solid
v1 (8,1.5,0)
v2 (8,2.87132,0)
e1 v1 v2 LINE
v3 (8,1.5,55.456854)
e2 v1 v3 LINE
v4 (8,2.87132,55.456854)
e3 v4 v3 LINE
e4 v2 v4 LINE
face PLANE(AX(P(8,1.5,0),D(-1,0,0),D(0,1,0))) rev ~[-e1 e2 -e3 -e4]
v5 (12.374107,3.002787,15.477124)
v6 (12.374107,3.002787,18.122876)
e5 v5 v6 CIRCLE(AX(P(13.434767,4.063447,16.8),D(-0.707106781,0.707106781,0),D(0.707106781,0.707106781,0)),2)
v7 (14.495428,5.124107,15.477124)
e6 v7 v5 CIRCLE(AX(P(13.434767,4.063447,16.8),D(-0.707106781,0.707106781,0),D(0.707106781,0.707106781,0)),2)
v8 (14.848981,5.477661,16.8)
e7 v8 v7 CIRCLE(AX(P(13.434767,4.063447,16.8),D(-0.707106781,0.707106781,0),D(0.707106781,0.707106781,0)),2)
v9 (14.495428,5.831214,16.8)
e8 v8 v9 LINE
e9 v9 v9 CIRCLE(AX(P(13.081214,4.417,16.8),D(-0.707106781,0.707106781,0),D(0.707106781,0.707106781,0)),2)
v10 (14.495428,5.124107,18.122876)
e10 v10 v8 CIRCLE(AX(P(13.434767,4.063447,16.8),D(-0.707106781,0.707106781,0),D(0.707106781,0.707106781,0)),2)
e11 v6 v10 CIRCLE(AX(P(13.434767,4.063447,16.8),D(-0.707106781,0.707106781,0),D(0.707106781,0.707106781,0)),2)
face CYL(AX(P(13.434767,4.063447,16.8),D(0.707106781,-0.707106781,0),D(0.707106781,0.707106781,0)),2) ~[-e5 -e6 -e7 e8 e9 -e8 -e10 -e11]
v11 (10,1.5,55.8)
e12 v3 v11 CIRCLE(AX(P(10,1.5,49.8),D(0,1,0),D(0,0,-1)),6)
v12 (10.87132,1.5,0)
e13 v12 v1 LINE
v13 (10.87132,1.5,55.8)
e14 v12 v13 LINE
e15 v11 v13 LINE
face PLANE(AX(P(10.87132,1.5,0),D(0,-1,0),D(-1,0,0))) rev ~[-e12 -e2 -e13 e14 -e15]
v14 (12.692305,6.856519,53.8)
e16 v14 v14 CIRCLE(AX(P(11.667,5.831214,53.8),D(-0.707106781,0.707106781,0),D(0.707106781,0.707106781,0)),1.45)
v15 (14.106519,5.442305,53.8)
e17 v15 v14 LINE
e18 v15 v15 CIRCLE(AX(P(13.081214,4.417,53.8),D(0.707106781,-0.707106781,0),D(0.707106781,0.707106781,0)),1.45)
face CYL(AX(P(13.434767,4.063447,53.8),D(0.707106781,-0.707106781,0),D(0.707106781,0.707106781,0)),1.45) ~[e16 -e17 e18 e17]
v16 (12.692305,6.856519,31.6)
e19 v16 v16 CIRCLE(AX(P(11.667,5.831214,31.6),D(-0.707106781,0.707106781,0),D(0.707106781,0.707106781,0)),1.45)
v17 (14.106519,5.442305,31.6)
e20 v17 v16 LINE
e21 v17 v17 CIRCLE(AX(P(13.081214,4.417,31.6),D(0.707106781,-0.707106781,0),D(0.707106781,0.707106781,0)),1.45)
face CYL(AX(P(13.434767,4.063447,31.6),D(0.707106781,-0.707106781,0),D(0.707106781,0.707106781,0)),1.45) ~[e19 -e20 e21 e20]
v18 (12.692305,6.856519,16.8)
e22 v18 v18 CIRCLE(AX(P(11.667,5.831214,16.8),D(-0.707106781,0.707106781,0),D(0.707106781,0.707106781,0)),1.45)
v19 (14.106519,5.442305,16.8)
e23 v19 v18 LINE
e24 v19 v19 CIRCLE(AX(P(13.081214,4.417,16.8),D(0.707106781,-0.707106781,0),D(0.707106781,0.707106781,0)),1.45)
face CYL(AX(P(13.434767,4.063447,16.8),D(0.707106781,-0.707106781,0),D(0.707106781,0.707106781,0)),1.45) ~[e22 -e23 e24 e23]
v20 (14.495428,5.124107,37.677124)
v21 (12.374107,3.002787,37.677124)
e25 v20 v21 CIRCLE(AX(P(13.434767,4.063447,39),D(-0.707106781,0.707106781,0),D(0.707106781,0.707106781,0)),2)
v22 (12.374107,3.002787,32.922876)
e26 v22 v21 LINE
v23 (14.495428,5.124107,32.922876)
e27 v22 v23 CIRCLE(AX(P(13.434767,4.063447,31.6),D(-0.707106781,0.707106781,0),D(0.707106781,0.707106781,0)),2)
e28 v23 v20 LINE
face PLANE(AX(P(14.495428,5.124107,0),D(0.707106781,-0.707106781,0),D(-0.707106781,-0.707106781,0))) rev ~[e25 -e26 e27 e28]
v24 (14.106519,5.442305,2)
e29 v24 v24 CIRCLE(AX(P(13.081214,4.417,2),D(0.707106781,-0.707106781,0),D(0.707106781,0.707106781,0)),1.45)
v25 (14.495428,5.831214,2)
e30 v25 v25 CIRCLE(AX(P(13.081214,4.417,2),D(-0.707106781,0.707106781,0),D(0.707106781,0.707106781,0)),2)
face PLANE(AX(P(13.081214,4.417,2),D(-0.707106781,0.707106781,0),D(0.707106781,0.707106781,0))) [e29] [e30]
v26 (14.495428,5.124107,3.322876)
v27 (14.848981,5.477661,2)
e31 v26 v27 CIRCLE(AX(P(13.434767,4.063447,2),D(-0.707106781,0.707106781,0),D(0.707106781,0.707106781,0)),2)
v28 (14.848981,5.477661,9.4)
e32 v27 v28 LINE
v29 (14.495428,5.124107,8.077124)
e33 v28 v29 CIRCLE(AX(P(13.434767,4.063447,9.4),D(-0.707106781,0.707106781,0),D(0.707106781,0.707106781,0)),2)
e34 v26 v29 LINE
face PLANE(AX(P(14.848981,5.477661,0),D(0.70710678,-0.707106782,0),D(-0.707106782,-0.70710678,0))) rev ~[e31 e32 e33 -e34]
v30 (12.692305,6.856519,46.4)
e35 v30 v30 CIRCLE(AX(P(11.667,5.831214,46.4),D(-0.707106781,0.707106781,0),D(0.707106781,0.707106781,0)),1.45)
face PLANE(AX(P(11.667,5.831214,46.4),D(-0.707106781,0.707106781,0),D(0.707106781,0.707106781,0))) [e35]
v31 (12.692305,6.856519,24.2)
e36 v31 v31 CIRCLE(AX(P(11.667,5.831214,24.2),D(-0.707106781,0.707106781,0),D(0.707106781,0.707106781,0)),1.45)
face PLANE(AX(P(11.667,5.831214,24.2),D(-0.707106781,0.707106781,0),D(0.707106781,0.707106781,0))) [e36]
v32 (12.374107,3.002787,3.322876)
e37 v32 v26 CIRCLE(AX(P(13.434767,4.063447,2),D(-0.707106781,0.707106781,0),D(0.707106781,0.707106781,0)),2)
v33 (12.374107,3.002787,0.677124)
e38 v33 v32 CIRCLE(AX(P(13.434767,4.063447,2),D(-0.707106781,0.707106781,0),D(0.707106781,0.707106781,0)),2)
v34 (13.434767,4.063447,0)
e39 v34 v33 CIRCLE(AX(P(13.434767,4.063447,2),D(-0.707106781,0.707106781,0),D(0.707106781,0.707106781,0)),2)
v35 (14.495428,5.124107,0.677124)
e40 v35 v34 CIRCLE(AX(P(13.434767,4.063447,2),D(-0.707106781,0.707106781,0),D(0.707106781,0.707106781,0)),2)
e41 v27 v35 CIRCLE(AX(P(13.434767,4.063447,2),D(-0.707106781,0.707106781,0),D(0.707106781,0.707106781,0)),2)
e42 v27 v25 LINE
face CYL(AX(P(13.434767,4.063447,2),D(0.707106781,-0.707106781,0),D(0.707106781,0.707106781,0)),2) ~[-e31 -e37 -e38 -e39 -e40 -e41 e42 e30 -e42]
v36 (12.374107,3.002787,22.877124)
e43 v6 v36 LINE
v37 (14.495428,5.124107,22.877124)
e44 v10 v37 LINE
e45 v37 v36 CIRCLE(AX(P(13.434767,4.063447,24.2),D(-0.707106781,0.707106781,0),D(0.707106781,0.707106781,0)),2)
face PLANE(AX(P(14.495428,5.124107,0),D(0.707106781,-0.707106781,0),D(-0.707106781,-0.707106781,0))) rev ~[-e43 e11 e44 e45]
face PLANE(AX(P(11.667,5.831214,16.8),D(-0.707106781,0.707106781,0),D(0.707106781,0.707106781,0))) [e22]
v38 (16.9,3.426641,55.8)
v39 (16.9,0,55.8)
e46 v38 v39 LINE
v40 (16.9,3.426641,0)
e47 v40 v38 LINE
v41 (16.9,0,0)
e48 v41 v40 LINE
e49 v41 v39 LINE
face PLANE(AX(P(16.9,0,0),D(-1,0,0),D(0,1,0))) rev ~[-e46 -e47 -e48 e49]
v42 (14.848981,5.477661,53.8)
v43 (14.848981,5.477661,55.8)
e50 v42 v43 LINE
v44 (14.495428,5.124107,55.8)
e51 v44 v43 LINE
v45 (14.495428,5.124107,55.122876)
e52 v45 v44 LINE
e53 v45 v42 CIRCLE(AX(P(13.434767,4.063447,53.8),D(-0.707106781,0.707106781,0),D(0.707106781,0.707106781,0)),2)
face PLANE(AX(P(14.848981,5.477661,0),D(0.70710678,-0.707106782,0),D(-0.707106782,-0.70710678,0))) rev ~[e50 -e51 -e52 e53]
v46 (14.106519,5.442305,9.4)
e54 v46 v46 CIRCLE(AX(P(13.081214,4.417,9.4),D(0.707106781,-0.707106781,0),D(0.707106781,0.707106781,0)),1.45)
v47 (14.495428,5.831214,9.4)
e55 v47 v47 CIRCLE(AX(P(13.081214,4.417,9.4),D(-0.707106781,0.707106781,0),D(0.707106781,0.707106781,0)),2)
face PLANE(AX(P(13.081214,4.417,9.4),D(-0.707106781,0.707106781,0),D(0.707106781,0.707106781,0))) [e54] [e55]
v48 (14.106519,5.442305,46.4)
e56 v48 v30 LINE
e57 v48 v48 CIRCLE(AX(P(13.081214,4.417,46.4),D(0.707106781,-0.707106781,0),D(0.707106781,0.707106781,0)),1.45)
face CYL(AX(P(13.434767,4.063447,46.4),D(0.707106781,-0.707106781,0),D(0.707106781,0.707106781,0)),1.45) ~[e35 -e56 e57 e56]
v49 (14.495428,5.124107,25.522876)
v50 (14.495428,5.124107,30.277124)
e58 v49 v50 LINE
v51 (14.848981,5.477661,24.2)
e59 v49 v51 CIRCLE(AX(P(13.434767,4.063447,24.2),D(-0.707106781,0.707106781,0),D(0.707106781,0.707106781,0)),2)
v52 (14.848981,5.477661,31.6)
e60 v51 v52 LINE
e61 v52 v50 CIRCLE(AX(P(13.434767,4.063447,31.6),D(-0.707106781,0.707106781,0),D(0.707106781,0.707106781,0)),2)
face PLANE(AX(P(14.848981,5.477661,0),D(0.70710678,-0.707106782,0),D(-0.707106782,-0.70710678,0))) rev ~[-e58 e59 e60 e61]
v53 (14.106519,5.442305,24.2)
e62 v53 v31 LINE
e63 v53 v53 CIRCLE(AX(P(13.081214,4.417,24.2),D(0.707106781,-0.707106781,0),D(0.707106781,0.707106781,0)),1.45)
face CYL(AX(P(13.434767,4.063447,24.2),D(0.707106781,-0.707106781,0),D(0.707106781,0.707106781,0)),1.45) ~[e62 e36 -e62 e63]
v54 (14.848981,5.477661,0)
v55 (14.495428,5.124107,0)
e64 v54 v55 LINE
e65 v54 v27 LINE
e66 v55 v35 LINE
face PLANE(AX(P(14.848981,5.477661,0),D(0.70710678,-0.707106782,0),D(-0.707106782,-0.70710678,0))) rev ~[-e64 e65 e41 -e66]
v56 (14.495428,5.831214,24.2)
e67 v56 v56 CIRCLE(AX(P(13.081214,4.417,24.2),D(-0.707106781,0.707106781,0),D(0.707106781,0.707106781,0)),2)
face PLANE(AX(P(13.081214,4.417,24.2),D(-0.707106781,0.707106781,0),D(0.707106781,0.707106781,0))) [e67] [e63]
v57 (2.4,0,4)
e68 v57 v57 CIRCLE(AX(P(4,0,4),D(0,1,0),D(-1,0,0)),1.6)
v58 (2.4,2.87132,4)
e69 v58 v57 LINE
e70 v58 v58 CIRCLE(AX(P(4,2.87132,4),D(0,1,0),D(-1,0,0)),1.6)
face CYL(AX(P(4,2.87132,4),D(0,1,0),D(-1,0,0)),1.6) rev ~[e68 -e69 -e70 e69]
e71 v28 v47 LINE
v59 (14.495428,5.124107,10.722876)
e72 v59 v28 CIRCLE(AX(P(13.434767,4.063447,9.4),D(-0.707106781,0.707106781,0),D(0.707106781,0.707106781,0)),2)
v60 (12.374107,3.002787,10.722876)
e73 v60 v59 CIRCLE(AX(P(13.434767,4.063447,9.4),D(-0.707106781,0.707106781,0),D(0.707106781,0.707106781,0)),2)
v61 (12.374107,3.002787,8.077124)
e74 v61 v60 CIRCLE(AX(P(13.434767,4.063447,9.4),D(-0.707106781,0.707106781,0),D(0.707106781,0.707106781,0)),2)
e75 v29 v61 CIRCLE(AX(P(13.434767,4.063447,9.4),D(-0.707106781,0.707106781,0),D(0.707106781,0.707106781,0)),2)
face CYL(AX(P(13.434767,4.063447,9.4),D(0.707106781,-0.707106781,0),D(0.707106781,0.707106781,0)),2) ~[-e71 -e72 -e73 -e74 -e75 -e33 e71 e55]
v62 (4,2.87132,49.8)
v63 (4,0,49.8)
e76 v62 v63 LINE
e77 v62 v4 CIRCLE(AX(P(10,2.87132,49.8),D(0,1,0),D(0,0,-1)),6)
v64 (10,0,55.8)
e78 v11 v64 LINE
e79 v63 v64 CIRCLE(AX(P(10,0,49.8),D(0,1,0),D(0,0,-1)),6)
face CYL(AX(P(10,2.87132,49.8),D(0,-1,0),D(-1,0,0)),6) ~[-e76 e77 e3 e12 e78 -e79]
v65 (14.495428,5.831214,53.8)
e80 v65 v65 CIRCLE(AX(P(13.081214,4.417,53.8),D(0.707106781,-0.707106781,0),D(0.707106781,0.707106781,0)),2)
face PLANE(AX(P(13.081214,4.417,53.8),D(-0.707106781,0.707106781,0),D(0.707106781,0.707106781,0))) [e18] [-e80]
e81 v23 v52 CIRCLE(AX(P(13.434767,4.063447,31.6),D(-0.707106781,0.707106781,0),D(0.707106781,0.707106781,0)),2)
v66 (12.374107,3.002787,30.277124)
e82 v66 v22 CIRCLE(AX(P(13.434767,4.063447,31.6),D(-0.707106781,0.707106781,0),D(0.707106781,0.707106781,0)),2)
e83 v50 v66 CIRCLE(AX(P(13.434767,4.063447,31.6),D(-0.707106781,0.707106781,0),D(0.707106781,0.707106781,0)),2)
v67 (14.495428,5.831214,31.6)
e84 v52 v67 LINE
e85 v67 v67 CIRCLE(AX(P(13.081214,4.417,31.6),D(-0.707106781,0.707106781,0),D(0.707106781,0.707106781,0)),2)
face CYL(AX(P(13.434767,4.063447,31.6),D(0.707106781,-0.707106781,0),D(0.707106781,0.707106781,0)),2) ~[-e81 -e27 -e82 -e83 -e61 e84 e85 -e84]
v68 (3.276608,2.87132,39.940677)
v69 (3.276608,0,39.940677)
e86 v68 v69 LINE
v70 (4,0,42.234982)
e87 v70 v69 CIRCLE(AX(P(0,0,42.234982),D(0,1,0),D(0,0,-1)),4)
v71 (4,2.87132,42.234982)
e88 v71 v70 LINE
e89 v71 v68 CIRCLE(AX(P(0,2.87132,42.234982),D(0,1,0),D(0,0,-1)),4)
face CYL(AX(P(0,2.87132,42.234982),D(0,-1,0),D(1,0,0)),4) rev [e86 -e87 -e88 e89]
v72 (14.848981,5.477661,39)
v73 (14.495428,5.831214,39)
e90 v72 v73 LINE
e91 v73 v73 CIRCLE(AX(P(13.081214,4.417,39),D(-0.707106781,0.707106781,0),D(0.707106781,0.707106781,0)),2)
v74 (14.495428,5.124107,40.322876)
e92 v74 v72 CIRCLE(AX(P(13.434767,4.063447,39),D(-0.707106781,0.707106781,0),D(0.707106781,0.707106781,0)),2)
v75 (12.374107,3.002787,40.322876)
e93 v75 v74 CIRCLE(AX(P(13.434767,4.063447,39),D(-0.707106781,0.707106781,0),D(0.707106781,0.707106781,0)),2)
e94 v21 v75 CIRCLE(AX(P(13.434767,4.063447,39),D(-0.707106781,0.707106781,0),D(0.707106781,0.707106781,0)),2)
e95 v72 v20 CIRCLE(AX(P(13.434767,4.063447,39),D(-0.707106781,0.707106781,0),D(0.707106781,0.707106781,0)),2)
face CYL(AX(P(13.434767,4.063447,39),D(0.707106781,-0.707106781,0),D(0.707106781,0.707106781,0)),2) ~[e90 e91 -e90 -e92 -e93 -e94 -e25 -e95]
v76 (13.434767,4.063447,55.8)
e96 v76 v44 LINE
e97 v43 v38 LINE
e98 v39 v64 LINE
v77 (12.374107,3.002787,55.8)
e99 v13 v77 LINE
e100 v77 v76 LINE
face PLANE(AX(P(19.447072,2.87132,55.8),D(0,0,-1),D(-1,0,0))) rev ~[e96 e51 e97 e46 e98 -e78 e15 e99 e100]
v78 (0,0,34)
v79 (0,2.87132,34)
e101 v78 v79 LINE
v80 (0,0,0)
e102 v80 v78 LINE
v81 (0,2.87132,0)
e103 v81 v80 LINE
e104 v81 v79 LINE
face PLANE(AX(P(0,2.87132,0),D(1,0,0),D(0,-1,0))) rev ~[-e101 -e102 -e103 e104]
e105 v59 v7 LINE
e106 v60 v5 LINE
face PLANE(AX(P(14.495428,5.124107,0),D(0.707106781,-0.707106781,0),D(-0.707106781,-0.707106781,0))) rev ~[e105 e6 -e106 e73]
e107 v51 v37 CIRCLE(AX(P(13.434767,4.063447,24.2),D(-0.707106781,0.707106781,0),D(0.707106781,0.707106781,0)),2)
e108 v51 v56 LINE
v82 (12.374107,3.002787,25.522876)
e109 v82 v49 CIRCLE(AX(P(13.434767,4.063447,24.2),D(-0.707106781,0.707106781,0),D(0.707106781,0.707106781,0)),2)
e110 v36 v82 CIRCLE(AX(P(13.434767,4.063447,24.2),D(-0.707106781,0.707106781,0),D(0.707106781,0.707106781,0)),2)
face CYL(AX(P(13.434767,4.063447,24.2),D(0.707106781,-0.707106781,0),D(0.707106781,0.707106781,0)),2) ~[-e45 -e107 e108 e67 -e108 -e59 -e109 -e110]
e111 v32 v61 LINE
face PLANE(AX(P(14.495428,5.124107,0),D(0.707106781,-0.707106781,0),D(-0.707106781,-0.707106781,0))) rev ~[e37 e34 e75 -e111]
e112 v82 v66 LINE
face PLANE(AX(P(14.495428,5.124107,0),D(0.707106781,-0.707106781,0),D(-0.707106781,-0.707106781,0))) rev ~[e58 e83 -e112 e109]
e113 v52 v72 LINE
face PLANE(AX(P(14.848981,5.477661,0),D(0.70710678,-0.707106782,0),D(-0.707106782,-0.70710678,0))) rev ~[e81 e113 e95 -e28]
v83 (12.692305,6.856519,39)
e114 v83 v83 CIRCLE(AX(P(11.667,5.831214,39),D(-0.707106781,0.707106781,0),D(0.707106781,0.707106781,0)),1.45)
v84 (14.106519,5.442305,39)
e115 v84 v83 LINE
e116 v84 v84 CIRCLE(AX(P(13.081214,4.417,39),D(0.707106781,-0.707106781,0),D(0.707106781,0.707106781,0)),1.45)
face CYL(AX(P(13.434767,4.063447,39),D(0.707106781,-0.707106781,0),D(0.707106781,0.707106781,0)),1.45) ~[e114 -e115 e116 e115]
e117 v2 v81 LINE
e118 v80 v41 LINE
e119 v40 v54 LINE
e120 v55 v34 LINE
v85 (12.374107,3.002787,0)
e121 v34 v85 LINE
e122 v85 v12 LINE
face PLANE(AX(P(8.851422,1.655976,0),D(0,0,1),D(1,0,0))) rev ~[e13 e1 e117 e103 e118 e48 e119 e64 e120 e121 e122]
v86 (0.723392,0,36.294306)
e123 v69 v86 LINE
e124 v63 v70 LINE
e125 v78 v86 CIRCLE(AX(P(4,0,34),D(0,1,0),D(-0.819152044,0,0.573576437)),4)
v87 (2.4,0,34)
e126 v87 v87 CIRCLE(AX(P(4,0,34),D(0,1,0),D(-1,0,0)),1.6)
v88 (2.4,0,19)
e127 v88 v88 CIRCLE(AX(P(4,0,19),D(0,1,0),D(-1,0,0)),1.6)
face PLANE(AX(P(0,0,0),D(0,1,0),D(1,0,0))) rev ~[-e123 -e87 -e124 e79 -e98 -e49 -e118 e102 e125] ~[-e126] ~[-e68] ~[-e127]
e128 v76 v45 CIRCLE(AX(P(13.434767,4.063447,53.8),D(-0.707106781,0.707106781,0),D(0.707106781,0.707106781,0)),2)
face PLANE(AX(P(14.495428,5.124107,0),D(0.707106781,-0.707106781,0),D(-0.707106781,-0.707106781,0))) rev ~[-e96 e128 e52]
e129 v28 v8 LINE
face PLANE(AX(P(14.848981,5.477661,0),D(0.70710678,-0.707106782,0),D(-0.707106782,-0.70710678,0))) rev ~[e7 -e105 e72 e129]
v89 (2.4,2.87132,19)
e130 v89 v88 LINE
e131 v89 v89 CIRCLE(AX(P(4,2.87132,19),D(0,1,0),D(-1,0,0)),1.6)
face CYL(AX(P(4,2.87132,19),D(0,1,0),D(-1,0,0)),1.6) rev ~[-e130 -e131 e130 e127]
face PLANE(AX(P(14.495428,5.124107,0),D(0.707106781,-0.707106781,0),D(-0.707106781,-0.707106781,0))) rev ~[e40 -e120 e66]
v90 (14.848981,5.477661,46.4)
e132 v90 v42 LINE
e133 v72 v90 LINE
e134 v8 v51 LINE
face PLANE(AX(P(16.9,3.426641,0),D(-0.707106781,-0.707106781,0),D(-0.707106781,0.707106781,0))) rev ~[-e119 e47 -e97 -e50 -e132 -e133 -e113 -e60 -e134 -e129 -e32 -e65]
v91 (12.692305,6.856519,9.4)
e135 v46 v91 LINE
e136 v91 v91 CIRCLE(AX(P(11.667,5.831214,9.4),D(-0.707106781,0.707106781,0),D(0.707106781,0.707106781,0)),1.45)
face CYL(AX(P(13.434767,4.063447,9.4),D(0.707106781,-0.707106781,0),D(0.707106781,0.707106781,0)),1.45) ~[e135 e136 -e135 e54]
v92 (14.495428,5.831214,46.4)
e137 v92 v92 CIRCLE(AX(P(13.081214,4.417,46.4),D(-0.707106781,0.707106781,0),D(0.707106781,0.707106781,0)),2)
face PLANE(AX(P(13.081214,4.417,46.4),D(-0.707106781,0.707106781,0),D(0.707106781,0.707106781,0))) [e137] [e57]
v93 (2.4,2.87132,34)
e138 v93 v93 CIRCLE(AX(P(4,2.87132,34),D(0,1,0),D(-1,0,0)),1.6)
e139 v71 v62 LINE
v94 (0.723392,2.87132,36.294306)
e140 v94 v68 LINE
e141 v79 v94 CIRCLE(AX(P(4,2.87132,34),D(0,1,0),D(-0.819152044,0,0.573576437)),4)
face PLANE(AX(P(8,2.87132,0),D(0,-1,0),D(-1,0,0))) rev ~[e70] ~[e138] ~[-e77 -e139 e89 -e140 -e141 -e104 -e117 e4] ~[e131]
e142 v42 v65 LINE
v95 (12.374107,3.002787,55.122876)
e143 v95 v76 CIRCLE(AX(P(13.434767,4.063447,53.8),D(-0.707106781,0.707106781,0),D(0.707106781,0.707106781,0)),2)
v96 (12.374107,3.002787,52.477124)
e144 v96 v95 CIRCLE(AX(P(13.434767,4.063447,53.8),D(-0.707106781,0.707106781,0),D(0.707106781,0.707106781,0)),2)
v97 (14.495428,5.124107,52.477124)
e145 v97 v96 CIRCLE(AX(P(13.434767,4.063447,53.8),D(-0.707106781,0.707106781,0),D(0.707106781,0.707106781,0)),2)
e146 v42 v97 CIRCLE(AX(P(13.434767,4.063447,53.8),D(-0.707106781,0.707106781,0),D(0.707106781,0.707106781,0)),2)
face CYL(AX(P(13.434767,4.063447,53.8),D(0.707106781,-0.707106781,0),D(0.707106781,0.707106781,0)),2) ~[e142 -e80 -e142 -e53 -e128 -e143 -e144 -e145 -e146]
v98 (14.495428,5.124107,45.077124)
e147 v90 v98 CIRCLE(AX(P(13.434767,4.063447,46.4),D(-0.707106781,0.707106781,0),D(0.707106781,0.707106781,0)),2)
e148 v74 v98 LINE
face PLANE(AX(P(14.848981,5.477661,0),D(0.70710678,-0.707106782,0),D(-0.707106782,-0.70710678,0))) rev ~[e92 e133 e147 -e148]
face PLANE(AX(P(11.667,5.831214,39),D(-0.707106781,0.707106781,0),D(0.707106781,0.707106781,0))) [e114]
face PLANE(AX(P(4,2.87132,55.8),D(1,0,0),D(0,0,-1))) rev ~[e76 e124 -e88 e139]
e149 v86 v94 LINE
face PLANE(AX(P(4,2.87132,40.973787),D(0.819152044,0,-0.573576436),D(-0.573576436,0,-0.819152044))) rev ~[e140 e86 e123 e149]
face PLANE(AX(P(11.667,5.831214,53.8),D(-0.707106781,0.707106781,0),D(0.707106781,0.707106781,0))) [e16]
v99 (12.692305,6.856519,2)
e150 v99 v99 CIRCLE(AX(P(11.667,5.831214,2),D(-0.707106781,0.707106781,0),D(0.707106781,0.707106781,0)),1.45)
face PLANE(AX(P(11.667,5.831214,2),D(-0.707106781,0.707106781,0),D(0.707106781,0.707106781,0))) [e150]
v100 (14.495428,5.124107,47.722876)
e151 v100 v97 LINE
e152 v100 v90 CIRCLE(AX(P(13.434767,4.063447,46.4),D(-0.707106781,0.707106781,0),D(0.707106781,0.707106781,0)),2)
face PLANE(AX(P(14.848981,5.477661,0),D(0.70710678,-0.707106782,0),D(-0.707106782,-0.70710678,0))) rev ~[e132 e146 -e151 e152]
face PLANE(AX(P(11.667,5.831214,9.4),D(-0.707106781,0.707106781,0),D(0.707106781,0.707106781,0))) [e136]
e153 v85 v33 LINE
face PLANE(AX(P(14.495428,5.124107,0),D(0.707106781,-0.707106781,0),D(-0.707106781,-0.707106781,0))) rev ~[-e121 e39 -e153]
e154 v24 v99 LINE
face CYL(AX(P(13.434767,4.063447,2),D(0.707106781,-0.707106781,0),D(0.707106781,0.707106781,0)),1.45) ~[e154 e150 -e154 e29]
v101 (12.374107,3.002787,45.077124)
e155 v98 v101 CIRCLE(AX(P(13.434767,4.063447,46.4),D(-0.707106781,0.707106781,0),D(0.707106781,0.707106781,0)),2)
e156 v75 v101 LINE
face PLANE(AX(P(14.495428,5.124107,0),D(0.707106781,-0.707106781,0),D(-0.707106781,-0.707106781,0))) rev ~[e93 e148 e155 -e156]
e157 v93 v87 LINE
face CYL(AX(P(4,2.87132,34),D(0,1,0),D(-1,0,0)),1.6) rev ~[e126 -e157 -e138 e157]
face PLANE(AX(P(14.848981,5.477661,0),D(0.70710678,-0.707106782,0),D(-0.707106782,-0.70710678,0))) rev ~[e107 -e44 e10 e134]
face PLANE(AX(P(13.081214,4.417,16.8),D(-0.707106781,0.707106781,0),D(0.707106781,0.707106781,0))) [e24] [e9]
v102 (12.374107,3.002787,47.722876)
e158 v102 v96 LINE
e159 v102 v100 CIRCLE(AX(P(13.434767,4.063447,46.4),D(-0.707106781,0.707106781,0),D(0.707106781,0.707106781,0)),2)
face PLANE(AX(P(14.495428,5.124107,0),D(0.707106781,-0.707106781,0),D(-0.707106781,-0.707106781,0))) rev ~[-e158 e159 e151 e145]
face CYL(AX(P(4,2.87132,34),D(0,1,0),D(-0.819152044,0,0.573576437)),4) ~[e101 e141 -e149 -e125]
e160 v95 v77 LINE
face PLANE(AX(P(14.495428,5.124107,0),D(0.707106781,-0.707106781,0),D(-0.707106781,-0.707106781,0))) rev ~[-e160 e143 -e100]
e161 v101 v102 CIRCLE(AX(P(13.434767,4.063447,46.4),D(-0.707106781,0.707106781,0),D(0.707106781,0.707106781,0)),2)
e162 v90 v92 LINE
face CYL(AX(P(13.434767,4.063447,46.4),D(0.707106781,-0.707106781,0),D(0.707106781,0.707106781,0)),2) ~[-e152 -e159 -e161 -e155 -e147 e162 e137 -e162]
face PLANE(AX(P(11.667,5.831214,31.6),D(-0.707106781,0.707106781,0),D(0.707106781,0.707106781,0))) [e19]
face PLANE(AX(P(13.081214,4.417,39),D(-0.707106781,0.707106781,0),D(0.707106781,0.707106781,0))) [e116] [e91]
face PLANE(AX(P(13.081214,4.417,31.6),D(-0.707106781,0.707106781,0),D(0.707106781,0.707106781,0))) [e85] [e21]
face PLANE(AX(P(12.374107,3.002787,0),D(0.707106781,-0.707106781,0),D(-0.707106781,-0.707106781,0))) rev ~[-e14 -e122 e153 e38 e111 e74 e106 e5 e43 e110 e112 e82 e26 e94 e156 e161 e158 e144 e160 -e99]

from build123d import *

# Parameters (mm, degrees)
EXTRUDE_1_DEPTH        = 63.5
SKETCH_2_R             = 1.45
EXTRUDE_2_DEPTH        = 2.5
SKETCH_3_R             = 2
EXTRUDE_3_DEPTH        = 0.5
PATTERN_LINEAR_1_COUNT = 9
PATTERN_LINEAR_1_PITCH = 7.4
SKETCH_4_R             = 1.6
CUT_EXTRUDE_1_DEPTH    = 10.5
PATTERN_LINEAR_2_COUNT = 3
PATTERN_LINEAR_2_PITCH = 15
CUT_EXTRUDE_2_DEPTH    = 5
FILLET_1_R             = 6
FILLET_2_R             = 4


with BuildPart() as part:
    # 草图1 → 凸台-拉伸1 (new body)
    with BuildSketch(Plane.XY):
        Polygon((16.9, 0), (16.9, 3.426641456), (14.8489809, 5.477660556), (14.495427509, 5.124107166), (12.374107166, 3.002786822), (10.871320344, 1.5), (8, 1.5), (8, 2.871320344), (0, 2.871320344), (0, 0), align=None)
    extrude(amount=EXTRUDE_1_DEPTH)

    # 草图2 → 凸台-拉伸2 (add)
    with BuildSketch(Plane(origin=(4.685660172, -4.685660172, 0), x_dir=(0, 0, 1), z_dir=(-0.7071067811865562, 0.7071067811865389, 0))):
        with Locations(Location((2, 12.373106012, 0), (0, 0, 90))):
            Circle(SKETCH_2_R)
    extrude_2 = extrude(amount=EXTRUDE_2_DEPTH)

    # 草图3 → 凸台-拉伸3 (add)
    with BuildSketch(Plane(origin=(4.685660172, -4.685660172, 0), x_dir=(0, 0, 1), z_dir=(-0.7071067811865562, 0.7071067811865389, 0))):
        with Locations(Location((2, 12.373106012, 0), (0, 0, 90))):
            Circle(SKETCH_3_R)
    extrude_3 = extrude(amount=EXTRUDE_3_DEPTH)

    # 阵列(线性)1: 凸台-拉伸2, 凸台-拉伸3 ×9
    with Locations(*[(0, 0, i * PATTERN_LINEAR_1_PITCH) for i in range(1, PATTERN_LINEAR_1_COUNT)]):
        add(extrude_2)
        add(extrude_3)

    # 草图4 → 切除-拉伸1 (cut)
    with BuildSketch(Plane(origin=(0, 2.871320344, 0), x_dir=(1, 0, 0), z_dir=(0, 1, 0))):
        with Locations(Location((4, -4, 0), (0, 0, 180))):
            Circle(SKETCH_4_R)
    cut_extrude_1 = extrude(amount=-CUT_EXTRUDE_1_DEPTH, mode=Mode.SUBTRACT)

    # 阵列(线性)2: 切除-拉伸1 ×3
    with Locations(*[(0, 0, i * PATTERN_LINEAR_2_PITCH) for i in range(1, PATTERN_LINEAR_2_COUNT)]):
        add(cut_extrude_1, mode=Mode.SUBTRACT)

    # 草图6 → 切除-拉伸2 (cut, symmetric)
    with BuildSketch(Plane(origin=(0, 2.871320344, 0), x_dir=(1, 0, 0), z_dir=(0, 1, 0))):
        with BuildLine():
            Line((4, -40.973787182), (0.723391823, -36.294305745))
            ThreePointArc((0.723391823, -36.294305745), (0.185132197, -35.202823198), (0, -34))
            Line((0, -34), (-4.848158237, -34))
            Line((-4.848158237, -34), (-4.848158237, -69.568318456))
            Line((-4.848158237, -69.568318456), (19.447072331, -69.568318456))
            Line((19.447072331, -69.568318456), (19.447072331, -55.8))
            Line((19.447072331, -55.8), (4, -55.8))
            Line((4, -55.8), (4, -40.973787182))
        make_face()
    extrude(amount=CUT_EXTRUDE_2_DEPTH, both=True, mode=Mode.SUBTRACT)

    # 圆角1
    fillet_1_edges = [part.edges().sort_by_distance(p)[0] for p in [
        (4, 1.435660172, 55.8),
    ]]
    fillet(fillet_1_edges, radius=FILLET_1_R)

    # 圆角2
    fillet_2_edges = [part.edges().sort_by_distance(p)[0] for p in [
        (4, 1.435660172, 40.973787182),
    ]]
    fillet(fillet_2_edges, radius=FILLET_2_R)


solid = part.part
